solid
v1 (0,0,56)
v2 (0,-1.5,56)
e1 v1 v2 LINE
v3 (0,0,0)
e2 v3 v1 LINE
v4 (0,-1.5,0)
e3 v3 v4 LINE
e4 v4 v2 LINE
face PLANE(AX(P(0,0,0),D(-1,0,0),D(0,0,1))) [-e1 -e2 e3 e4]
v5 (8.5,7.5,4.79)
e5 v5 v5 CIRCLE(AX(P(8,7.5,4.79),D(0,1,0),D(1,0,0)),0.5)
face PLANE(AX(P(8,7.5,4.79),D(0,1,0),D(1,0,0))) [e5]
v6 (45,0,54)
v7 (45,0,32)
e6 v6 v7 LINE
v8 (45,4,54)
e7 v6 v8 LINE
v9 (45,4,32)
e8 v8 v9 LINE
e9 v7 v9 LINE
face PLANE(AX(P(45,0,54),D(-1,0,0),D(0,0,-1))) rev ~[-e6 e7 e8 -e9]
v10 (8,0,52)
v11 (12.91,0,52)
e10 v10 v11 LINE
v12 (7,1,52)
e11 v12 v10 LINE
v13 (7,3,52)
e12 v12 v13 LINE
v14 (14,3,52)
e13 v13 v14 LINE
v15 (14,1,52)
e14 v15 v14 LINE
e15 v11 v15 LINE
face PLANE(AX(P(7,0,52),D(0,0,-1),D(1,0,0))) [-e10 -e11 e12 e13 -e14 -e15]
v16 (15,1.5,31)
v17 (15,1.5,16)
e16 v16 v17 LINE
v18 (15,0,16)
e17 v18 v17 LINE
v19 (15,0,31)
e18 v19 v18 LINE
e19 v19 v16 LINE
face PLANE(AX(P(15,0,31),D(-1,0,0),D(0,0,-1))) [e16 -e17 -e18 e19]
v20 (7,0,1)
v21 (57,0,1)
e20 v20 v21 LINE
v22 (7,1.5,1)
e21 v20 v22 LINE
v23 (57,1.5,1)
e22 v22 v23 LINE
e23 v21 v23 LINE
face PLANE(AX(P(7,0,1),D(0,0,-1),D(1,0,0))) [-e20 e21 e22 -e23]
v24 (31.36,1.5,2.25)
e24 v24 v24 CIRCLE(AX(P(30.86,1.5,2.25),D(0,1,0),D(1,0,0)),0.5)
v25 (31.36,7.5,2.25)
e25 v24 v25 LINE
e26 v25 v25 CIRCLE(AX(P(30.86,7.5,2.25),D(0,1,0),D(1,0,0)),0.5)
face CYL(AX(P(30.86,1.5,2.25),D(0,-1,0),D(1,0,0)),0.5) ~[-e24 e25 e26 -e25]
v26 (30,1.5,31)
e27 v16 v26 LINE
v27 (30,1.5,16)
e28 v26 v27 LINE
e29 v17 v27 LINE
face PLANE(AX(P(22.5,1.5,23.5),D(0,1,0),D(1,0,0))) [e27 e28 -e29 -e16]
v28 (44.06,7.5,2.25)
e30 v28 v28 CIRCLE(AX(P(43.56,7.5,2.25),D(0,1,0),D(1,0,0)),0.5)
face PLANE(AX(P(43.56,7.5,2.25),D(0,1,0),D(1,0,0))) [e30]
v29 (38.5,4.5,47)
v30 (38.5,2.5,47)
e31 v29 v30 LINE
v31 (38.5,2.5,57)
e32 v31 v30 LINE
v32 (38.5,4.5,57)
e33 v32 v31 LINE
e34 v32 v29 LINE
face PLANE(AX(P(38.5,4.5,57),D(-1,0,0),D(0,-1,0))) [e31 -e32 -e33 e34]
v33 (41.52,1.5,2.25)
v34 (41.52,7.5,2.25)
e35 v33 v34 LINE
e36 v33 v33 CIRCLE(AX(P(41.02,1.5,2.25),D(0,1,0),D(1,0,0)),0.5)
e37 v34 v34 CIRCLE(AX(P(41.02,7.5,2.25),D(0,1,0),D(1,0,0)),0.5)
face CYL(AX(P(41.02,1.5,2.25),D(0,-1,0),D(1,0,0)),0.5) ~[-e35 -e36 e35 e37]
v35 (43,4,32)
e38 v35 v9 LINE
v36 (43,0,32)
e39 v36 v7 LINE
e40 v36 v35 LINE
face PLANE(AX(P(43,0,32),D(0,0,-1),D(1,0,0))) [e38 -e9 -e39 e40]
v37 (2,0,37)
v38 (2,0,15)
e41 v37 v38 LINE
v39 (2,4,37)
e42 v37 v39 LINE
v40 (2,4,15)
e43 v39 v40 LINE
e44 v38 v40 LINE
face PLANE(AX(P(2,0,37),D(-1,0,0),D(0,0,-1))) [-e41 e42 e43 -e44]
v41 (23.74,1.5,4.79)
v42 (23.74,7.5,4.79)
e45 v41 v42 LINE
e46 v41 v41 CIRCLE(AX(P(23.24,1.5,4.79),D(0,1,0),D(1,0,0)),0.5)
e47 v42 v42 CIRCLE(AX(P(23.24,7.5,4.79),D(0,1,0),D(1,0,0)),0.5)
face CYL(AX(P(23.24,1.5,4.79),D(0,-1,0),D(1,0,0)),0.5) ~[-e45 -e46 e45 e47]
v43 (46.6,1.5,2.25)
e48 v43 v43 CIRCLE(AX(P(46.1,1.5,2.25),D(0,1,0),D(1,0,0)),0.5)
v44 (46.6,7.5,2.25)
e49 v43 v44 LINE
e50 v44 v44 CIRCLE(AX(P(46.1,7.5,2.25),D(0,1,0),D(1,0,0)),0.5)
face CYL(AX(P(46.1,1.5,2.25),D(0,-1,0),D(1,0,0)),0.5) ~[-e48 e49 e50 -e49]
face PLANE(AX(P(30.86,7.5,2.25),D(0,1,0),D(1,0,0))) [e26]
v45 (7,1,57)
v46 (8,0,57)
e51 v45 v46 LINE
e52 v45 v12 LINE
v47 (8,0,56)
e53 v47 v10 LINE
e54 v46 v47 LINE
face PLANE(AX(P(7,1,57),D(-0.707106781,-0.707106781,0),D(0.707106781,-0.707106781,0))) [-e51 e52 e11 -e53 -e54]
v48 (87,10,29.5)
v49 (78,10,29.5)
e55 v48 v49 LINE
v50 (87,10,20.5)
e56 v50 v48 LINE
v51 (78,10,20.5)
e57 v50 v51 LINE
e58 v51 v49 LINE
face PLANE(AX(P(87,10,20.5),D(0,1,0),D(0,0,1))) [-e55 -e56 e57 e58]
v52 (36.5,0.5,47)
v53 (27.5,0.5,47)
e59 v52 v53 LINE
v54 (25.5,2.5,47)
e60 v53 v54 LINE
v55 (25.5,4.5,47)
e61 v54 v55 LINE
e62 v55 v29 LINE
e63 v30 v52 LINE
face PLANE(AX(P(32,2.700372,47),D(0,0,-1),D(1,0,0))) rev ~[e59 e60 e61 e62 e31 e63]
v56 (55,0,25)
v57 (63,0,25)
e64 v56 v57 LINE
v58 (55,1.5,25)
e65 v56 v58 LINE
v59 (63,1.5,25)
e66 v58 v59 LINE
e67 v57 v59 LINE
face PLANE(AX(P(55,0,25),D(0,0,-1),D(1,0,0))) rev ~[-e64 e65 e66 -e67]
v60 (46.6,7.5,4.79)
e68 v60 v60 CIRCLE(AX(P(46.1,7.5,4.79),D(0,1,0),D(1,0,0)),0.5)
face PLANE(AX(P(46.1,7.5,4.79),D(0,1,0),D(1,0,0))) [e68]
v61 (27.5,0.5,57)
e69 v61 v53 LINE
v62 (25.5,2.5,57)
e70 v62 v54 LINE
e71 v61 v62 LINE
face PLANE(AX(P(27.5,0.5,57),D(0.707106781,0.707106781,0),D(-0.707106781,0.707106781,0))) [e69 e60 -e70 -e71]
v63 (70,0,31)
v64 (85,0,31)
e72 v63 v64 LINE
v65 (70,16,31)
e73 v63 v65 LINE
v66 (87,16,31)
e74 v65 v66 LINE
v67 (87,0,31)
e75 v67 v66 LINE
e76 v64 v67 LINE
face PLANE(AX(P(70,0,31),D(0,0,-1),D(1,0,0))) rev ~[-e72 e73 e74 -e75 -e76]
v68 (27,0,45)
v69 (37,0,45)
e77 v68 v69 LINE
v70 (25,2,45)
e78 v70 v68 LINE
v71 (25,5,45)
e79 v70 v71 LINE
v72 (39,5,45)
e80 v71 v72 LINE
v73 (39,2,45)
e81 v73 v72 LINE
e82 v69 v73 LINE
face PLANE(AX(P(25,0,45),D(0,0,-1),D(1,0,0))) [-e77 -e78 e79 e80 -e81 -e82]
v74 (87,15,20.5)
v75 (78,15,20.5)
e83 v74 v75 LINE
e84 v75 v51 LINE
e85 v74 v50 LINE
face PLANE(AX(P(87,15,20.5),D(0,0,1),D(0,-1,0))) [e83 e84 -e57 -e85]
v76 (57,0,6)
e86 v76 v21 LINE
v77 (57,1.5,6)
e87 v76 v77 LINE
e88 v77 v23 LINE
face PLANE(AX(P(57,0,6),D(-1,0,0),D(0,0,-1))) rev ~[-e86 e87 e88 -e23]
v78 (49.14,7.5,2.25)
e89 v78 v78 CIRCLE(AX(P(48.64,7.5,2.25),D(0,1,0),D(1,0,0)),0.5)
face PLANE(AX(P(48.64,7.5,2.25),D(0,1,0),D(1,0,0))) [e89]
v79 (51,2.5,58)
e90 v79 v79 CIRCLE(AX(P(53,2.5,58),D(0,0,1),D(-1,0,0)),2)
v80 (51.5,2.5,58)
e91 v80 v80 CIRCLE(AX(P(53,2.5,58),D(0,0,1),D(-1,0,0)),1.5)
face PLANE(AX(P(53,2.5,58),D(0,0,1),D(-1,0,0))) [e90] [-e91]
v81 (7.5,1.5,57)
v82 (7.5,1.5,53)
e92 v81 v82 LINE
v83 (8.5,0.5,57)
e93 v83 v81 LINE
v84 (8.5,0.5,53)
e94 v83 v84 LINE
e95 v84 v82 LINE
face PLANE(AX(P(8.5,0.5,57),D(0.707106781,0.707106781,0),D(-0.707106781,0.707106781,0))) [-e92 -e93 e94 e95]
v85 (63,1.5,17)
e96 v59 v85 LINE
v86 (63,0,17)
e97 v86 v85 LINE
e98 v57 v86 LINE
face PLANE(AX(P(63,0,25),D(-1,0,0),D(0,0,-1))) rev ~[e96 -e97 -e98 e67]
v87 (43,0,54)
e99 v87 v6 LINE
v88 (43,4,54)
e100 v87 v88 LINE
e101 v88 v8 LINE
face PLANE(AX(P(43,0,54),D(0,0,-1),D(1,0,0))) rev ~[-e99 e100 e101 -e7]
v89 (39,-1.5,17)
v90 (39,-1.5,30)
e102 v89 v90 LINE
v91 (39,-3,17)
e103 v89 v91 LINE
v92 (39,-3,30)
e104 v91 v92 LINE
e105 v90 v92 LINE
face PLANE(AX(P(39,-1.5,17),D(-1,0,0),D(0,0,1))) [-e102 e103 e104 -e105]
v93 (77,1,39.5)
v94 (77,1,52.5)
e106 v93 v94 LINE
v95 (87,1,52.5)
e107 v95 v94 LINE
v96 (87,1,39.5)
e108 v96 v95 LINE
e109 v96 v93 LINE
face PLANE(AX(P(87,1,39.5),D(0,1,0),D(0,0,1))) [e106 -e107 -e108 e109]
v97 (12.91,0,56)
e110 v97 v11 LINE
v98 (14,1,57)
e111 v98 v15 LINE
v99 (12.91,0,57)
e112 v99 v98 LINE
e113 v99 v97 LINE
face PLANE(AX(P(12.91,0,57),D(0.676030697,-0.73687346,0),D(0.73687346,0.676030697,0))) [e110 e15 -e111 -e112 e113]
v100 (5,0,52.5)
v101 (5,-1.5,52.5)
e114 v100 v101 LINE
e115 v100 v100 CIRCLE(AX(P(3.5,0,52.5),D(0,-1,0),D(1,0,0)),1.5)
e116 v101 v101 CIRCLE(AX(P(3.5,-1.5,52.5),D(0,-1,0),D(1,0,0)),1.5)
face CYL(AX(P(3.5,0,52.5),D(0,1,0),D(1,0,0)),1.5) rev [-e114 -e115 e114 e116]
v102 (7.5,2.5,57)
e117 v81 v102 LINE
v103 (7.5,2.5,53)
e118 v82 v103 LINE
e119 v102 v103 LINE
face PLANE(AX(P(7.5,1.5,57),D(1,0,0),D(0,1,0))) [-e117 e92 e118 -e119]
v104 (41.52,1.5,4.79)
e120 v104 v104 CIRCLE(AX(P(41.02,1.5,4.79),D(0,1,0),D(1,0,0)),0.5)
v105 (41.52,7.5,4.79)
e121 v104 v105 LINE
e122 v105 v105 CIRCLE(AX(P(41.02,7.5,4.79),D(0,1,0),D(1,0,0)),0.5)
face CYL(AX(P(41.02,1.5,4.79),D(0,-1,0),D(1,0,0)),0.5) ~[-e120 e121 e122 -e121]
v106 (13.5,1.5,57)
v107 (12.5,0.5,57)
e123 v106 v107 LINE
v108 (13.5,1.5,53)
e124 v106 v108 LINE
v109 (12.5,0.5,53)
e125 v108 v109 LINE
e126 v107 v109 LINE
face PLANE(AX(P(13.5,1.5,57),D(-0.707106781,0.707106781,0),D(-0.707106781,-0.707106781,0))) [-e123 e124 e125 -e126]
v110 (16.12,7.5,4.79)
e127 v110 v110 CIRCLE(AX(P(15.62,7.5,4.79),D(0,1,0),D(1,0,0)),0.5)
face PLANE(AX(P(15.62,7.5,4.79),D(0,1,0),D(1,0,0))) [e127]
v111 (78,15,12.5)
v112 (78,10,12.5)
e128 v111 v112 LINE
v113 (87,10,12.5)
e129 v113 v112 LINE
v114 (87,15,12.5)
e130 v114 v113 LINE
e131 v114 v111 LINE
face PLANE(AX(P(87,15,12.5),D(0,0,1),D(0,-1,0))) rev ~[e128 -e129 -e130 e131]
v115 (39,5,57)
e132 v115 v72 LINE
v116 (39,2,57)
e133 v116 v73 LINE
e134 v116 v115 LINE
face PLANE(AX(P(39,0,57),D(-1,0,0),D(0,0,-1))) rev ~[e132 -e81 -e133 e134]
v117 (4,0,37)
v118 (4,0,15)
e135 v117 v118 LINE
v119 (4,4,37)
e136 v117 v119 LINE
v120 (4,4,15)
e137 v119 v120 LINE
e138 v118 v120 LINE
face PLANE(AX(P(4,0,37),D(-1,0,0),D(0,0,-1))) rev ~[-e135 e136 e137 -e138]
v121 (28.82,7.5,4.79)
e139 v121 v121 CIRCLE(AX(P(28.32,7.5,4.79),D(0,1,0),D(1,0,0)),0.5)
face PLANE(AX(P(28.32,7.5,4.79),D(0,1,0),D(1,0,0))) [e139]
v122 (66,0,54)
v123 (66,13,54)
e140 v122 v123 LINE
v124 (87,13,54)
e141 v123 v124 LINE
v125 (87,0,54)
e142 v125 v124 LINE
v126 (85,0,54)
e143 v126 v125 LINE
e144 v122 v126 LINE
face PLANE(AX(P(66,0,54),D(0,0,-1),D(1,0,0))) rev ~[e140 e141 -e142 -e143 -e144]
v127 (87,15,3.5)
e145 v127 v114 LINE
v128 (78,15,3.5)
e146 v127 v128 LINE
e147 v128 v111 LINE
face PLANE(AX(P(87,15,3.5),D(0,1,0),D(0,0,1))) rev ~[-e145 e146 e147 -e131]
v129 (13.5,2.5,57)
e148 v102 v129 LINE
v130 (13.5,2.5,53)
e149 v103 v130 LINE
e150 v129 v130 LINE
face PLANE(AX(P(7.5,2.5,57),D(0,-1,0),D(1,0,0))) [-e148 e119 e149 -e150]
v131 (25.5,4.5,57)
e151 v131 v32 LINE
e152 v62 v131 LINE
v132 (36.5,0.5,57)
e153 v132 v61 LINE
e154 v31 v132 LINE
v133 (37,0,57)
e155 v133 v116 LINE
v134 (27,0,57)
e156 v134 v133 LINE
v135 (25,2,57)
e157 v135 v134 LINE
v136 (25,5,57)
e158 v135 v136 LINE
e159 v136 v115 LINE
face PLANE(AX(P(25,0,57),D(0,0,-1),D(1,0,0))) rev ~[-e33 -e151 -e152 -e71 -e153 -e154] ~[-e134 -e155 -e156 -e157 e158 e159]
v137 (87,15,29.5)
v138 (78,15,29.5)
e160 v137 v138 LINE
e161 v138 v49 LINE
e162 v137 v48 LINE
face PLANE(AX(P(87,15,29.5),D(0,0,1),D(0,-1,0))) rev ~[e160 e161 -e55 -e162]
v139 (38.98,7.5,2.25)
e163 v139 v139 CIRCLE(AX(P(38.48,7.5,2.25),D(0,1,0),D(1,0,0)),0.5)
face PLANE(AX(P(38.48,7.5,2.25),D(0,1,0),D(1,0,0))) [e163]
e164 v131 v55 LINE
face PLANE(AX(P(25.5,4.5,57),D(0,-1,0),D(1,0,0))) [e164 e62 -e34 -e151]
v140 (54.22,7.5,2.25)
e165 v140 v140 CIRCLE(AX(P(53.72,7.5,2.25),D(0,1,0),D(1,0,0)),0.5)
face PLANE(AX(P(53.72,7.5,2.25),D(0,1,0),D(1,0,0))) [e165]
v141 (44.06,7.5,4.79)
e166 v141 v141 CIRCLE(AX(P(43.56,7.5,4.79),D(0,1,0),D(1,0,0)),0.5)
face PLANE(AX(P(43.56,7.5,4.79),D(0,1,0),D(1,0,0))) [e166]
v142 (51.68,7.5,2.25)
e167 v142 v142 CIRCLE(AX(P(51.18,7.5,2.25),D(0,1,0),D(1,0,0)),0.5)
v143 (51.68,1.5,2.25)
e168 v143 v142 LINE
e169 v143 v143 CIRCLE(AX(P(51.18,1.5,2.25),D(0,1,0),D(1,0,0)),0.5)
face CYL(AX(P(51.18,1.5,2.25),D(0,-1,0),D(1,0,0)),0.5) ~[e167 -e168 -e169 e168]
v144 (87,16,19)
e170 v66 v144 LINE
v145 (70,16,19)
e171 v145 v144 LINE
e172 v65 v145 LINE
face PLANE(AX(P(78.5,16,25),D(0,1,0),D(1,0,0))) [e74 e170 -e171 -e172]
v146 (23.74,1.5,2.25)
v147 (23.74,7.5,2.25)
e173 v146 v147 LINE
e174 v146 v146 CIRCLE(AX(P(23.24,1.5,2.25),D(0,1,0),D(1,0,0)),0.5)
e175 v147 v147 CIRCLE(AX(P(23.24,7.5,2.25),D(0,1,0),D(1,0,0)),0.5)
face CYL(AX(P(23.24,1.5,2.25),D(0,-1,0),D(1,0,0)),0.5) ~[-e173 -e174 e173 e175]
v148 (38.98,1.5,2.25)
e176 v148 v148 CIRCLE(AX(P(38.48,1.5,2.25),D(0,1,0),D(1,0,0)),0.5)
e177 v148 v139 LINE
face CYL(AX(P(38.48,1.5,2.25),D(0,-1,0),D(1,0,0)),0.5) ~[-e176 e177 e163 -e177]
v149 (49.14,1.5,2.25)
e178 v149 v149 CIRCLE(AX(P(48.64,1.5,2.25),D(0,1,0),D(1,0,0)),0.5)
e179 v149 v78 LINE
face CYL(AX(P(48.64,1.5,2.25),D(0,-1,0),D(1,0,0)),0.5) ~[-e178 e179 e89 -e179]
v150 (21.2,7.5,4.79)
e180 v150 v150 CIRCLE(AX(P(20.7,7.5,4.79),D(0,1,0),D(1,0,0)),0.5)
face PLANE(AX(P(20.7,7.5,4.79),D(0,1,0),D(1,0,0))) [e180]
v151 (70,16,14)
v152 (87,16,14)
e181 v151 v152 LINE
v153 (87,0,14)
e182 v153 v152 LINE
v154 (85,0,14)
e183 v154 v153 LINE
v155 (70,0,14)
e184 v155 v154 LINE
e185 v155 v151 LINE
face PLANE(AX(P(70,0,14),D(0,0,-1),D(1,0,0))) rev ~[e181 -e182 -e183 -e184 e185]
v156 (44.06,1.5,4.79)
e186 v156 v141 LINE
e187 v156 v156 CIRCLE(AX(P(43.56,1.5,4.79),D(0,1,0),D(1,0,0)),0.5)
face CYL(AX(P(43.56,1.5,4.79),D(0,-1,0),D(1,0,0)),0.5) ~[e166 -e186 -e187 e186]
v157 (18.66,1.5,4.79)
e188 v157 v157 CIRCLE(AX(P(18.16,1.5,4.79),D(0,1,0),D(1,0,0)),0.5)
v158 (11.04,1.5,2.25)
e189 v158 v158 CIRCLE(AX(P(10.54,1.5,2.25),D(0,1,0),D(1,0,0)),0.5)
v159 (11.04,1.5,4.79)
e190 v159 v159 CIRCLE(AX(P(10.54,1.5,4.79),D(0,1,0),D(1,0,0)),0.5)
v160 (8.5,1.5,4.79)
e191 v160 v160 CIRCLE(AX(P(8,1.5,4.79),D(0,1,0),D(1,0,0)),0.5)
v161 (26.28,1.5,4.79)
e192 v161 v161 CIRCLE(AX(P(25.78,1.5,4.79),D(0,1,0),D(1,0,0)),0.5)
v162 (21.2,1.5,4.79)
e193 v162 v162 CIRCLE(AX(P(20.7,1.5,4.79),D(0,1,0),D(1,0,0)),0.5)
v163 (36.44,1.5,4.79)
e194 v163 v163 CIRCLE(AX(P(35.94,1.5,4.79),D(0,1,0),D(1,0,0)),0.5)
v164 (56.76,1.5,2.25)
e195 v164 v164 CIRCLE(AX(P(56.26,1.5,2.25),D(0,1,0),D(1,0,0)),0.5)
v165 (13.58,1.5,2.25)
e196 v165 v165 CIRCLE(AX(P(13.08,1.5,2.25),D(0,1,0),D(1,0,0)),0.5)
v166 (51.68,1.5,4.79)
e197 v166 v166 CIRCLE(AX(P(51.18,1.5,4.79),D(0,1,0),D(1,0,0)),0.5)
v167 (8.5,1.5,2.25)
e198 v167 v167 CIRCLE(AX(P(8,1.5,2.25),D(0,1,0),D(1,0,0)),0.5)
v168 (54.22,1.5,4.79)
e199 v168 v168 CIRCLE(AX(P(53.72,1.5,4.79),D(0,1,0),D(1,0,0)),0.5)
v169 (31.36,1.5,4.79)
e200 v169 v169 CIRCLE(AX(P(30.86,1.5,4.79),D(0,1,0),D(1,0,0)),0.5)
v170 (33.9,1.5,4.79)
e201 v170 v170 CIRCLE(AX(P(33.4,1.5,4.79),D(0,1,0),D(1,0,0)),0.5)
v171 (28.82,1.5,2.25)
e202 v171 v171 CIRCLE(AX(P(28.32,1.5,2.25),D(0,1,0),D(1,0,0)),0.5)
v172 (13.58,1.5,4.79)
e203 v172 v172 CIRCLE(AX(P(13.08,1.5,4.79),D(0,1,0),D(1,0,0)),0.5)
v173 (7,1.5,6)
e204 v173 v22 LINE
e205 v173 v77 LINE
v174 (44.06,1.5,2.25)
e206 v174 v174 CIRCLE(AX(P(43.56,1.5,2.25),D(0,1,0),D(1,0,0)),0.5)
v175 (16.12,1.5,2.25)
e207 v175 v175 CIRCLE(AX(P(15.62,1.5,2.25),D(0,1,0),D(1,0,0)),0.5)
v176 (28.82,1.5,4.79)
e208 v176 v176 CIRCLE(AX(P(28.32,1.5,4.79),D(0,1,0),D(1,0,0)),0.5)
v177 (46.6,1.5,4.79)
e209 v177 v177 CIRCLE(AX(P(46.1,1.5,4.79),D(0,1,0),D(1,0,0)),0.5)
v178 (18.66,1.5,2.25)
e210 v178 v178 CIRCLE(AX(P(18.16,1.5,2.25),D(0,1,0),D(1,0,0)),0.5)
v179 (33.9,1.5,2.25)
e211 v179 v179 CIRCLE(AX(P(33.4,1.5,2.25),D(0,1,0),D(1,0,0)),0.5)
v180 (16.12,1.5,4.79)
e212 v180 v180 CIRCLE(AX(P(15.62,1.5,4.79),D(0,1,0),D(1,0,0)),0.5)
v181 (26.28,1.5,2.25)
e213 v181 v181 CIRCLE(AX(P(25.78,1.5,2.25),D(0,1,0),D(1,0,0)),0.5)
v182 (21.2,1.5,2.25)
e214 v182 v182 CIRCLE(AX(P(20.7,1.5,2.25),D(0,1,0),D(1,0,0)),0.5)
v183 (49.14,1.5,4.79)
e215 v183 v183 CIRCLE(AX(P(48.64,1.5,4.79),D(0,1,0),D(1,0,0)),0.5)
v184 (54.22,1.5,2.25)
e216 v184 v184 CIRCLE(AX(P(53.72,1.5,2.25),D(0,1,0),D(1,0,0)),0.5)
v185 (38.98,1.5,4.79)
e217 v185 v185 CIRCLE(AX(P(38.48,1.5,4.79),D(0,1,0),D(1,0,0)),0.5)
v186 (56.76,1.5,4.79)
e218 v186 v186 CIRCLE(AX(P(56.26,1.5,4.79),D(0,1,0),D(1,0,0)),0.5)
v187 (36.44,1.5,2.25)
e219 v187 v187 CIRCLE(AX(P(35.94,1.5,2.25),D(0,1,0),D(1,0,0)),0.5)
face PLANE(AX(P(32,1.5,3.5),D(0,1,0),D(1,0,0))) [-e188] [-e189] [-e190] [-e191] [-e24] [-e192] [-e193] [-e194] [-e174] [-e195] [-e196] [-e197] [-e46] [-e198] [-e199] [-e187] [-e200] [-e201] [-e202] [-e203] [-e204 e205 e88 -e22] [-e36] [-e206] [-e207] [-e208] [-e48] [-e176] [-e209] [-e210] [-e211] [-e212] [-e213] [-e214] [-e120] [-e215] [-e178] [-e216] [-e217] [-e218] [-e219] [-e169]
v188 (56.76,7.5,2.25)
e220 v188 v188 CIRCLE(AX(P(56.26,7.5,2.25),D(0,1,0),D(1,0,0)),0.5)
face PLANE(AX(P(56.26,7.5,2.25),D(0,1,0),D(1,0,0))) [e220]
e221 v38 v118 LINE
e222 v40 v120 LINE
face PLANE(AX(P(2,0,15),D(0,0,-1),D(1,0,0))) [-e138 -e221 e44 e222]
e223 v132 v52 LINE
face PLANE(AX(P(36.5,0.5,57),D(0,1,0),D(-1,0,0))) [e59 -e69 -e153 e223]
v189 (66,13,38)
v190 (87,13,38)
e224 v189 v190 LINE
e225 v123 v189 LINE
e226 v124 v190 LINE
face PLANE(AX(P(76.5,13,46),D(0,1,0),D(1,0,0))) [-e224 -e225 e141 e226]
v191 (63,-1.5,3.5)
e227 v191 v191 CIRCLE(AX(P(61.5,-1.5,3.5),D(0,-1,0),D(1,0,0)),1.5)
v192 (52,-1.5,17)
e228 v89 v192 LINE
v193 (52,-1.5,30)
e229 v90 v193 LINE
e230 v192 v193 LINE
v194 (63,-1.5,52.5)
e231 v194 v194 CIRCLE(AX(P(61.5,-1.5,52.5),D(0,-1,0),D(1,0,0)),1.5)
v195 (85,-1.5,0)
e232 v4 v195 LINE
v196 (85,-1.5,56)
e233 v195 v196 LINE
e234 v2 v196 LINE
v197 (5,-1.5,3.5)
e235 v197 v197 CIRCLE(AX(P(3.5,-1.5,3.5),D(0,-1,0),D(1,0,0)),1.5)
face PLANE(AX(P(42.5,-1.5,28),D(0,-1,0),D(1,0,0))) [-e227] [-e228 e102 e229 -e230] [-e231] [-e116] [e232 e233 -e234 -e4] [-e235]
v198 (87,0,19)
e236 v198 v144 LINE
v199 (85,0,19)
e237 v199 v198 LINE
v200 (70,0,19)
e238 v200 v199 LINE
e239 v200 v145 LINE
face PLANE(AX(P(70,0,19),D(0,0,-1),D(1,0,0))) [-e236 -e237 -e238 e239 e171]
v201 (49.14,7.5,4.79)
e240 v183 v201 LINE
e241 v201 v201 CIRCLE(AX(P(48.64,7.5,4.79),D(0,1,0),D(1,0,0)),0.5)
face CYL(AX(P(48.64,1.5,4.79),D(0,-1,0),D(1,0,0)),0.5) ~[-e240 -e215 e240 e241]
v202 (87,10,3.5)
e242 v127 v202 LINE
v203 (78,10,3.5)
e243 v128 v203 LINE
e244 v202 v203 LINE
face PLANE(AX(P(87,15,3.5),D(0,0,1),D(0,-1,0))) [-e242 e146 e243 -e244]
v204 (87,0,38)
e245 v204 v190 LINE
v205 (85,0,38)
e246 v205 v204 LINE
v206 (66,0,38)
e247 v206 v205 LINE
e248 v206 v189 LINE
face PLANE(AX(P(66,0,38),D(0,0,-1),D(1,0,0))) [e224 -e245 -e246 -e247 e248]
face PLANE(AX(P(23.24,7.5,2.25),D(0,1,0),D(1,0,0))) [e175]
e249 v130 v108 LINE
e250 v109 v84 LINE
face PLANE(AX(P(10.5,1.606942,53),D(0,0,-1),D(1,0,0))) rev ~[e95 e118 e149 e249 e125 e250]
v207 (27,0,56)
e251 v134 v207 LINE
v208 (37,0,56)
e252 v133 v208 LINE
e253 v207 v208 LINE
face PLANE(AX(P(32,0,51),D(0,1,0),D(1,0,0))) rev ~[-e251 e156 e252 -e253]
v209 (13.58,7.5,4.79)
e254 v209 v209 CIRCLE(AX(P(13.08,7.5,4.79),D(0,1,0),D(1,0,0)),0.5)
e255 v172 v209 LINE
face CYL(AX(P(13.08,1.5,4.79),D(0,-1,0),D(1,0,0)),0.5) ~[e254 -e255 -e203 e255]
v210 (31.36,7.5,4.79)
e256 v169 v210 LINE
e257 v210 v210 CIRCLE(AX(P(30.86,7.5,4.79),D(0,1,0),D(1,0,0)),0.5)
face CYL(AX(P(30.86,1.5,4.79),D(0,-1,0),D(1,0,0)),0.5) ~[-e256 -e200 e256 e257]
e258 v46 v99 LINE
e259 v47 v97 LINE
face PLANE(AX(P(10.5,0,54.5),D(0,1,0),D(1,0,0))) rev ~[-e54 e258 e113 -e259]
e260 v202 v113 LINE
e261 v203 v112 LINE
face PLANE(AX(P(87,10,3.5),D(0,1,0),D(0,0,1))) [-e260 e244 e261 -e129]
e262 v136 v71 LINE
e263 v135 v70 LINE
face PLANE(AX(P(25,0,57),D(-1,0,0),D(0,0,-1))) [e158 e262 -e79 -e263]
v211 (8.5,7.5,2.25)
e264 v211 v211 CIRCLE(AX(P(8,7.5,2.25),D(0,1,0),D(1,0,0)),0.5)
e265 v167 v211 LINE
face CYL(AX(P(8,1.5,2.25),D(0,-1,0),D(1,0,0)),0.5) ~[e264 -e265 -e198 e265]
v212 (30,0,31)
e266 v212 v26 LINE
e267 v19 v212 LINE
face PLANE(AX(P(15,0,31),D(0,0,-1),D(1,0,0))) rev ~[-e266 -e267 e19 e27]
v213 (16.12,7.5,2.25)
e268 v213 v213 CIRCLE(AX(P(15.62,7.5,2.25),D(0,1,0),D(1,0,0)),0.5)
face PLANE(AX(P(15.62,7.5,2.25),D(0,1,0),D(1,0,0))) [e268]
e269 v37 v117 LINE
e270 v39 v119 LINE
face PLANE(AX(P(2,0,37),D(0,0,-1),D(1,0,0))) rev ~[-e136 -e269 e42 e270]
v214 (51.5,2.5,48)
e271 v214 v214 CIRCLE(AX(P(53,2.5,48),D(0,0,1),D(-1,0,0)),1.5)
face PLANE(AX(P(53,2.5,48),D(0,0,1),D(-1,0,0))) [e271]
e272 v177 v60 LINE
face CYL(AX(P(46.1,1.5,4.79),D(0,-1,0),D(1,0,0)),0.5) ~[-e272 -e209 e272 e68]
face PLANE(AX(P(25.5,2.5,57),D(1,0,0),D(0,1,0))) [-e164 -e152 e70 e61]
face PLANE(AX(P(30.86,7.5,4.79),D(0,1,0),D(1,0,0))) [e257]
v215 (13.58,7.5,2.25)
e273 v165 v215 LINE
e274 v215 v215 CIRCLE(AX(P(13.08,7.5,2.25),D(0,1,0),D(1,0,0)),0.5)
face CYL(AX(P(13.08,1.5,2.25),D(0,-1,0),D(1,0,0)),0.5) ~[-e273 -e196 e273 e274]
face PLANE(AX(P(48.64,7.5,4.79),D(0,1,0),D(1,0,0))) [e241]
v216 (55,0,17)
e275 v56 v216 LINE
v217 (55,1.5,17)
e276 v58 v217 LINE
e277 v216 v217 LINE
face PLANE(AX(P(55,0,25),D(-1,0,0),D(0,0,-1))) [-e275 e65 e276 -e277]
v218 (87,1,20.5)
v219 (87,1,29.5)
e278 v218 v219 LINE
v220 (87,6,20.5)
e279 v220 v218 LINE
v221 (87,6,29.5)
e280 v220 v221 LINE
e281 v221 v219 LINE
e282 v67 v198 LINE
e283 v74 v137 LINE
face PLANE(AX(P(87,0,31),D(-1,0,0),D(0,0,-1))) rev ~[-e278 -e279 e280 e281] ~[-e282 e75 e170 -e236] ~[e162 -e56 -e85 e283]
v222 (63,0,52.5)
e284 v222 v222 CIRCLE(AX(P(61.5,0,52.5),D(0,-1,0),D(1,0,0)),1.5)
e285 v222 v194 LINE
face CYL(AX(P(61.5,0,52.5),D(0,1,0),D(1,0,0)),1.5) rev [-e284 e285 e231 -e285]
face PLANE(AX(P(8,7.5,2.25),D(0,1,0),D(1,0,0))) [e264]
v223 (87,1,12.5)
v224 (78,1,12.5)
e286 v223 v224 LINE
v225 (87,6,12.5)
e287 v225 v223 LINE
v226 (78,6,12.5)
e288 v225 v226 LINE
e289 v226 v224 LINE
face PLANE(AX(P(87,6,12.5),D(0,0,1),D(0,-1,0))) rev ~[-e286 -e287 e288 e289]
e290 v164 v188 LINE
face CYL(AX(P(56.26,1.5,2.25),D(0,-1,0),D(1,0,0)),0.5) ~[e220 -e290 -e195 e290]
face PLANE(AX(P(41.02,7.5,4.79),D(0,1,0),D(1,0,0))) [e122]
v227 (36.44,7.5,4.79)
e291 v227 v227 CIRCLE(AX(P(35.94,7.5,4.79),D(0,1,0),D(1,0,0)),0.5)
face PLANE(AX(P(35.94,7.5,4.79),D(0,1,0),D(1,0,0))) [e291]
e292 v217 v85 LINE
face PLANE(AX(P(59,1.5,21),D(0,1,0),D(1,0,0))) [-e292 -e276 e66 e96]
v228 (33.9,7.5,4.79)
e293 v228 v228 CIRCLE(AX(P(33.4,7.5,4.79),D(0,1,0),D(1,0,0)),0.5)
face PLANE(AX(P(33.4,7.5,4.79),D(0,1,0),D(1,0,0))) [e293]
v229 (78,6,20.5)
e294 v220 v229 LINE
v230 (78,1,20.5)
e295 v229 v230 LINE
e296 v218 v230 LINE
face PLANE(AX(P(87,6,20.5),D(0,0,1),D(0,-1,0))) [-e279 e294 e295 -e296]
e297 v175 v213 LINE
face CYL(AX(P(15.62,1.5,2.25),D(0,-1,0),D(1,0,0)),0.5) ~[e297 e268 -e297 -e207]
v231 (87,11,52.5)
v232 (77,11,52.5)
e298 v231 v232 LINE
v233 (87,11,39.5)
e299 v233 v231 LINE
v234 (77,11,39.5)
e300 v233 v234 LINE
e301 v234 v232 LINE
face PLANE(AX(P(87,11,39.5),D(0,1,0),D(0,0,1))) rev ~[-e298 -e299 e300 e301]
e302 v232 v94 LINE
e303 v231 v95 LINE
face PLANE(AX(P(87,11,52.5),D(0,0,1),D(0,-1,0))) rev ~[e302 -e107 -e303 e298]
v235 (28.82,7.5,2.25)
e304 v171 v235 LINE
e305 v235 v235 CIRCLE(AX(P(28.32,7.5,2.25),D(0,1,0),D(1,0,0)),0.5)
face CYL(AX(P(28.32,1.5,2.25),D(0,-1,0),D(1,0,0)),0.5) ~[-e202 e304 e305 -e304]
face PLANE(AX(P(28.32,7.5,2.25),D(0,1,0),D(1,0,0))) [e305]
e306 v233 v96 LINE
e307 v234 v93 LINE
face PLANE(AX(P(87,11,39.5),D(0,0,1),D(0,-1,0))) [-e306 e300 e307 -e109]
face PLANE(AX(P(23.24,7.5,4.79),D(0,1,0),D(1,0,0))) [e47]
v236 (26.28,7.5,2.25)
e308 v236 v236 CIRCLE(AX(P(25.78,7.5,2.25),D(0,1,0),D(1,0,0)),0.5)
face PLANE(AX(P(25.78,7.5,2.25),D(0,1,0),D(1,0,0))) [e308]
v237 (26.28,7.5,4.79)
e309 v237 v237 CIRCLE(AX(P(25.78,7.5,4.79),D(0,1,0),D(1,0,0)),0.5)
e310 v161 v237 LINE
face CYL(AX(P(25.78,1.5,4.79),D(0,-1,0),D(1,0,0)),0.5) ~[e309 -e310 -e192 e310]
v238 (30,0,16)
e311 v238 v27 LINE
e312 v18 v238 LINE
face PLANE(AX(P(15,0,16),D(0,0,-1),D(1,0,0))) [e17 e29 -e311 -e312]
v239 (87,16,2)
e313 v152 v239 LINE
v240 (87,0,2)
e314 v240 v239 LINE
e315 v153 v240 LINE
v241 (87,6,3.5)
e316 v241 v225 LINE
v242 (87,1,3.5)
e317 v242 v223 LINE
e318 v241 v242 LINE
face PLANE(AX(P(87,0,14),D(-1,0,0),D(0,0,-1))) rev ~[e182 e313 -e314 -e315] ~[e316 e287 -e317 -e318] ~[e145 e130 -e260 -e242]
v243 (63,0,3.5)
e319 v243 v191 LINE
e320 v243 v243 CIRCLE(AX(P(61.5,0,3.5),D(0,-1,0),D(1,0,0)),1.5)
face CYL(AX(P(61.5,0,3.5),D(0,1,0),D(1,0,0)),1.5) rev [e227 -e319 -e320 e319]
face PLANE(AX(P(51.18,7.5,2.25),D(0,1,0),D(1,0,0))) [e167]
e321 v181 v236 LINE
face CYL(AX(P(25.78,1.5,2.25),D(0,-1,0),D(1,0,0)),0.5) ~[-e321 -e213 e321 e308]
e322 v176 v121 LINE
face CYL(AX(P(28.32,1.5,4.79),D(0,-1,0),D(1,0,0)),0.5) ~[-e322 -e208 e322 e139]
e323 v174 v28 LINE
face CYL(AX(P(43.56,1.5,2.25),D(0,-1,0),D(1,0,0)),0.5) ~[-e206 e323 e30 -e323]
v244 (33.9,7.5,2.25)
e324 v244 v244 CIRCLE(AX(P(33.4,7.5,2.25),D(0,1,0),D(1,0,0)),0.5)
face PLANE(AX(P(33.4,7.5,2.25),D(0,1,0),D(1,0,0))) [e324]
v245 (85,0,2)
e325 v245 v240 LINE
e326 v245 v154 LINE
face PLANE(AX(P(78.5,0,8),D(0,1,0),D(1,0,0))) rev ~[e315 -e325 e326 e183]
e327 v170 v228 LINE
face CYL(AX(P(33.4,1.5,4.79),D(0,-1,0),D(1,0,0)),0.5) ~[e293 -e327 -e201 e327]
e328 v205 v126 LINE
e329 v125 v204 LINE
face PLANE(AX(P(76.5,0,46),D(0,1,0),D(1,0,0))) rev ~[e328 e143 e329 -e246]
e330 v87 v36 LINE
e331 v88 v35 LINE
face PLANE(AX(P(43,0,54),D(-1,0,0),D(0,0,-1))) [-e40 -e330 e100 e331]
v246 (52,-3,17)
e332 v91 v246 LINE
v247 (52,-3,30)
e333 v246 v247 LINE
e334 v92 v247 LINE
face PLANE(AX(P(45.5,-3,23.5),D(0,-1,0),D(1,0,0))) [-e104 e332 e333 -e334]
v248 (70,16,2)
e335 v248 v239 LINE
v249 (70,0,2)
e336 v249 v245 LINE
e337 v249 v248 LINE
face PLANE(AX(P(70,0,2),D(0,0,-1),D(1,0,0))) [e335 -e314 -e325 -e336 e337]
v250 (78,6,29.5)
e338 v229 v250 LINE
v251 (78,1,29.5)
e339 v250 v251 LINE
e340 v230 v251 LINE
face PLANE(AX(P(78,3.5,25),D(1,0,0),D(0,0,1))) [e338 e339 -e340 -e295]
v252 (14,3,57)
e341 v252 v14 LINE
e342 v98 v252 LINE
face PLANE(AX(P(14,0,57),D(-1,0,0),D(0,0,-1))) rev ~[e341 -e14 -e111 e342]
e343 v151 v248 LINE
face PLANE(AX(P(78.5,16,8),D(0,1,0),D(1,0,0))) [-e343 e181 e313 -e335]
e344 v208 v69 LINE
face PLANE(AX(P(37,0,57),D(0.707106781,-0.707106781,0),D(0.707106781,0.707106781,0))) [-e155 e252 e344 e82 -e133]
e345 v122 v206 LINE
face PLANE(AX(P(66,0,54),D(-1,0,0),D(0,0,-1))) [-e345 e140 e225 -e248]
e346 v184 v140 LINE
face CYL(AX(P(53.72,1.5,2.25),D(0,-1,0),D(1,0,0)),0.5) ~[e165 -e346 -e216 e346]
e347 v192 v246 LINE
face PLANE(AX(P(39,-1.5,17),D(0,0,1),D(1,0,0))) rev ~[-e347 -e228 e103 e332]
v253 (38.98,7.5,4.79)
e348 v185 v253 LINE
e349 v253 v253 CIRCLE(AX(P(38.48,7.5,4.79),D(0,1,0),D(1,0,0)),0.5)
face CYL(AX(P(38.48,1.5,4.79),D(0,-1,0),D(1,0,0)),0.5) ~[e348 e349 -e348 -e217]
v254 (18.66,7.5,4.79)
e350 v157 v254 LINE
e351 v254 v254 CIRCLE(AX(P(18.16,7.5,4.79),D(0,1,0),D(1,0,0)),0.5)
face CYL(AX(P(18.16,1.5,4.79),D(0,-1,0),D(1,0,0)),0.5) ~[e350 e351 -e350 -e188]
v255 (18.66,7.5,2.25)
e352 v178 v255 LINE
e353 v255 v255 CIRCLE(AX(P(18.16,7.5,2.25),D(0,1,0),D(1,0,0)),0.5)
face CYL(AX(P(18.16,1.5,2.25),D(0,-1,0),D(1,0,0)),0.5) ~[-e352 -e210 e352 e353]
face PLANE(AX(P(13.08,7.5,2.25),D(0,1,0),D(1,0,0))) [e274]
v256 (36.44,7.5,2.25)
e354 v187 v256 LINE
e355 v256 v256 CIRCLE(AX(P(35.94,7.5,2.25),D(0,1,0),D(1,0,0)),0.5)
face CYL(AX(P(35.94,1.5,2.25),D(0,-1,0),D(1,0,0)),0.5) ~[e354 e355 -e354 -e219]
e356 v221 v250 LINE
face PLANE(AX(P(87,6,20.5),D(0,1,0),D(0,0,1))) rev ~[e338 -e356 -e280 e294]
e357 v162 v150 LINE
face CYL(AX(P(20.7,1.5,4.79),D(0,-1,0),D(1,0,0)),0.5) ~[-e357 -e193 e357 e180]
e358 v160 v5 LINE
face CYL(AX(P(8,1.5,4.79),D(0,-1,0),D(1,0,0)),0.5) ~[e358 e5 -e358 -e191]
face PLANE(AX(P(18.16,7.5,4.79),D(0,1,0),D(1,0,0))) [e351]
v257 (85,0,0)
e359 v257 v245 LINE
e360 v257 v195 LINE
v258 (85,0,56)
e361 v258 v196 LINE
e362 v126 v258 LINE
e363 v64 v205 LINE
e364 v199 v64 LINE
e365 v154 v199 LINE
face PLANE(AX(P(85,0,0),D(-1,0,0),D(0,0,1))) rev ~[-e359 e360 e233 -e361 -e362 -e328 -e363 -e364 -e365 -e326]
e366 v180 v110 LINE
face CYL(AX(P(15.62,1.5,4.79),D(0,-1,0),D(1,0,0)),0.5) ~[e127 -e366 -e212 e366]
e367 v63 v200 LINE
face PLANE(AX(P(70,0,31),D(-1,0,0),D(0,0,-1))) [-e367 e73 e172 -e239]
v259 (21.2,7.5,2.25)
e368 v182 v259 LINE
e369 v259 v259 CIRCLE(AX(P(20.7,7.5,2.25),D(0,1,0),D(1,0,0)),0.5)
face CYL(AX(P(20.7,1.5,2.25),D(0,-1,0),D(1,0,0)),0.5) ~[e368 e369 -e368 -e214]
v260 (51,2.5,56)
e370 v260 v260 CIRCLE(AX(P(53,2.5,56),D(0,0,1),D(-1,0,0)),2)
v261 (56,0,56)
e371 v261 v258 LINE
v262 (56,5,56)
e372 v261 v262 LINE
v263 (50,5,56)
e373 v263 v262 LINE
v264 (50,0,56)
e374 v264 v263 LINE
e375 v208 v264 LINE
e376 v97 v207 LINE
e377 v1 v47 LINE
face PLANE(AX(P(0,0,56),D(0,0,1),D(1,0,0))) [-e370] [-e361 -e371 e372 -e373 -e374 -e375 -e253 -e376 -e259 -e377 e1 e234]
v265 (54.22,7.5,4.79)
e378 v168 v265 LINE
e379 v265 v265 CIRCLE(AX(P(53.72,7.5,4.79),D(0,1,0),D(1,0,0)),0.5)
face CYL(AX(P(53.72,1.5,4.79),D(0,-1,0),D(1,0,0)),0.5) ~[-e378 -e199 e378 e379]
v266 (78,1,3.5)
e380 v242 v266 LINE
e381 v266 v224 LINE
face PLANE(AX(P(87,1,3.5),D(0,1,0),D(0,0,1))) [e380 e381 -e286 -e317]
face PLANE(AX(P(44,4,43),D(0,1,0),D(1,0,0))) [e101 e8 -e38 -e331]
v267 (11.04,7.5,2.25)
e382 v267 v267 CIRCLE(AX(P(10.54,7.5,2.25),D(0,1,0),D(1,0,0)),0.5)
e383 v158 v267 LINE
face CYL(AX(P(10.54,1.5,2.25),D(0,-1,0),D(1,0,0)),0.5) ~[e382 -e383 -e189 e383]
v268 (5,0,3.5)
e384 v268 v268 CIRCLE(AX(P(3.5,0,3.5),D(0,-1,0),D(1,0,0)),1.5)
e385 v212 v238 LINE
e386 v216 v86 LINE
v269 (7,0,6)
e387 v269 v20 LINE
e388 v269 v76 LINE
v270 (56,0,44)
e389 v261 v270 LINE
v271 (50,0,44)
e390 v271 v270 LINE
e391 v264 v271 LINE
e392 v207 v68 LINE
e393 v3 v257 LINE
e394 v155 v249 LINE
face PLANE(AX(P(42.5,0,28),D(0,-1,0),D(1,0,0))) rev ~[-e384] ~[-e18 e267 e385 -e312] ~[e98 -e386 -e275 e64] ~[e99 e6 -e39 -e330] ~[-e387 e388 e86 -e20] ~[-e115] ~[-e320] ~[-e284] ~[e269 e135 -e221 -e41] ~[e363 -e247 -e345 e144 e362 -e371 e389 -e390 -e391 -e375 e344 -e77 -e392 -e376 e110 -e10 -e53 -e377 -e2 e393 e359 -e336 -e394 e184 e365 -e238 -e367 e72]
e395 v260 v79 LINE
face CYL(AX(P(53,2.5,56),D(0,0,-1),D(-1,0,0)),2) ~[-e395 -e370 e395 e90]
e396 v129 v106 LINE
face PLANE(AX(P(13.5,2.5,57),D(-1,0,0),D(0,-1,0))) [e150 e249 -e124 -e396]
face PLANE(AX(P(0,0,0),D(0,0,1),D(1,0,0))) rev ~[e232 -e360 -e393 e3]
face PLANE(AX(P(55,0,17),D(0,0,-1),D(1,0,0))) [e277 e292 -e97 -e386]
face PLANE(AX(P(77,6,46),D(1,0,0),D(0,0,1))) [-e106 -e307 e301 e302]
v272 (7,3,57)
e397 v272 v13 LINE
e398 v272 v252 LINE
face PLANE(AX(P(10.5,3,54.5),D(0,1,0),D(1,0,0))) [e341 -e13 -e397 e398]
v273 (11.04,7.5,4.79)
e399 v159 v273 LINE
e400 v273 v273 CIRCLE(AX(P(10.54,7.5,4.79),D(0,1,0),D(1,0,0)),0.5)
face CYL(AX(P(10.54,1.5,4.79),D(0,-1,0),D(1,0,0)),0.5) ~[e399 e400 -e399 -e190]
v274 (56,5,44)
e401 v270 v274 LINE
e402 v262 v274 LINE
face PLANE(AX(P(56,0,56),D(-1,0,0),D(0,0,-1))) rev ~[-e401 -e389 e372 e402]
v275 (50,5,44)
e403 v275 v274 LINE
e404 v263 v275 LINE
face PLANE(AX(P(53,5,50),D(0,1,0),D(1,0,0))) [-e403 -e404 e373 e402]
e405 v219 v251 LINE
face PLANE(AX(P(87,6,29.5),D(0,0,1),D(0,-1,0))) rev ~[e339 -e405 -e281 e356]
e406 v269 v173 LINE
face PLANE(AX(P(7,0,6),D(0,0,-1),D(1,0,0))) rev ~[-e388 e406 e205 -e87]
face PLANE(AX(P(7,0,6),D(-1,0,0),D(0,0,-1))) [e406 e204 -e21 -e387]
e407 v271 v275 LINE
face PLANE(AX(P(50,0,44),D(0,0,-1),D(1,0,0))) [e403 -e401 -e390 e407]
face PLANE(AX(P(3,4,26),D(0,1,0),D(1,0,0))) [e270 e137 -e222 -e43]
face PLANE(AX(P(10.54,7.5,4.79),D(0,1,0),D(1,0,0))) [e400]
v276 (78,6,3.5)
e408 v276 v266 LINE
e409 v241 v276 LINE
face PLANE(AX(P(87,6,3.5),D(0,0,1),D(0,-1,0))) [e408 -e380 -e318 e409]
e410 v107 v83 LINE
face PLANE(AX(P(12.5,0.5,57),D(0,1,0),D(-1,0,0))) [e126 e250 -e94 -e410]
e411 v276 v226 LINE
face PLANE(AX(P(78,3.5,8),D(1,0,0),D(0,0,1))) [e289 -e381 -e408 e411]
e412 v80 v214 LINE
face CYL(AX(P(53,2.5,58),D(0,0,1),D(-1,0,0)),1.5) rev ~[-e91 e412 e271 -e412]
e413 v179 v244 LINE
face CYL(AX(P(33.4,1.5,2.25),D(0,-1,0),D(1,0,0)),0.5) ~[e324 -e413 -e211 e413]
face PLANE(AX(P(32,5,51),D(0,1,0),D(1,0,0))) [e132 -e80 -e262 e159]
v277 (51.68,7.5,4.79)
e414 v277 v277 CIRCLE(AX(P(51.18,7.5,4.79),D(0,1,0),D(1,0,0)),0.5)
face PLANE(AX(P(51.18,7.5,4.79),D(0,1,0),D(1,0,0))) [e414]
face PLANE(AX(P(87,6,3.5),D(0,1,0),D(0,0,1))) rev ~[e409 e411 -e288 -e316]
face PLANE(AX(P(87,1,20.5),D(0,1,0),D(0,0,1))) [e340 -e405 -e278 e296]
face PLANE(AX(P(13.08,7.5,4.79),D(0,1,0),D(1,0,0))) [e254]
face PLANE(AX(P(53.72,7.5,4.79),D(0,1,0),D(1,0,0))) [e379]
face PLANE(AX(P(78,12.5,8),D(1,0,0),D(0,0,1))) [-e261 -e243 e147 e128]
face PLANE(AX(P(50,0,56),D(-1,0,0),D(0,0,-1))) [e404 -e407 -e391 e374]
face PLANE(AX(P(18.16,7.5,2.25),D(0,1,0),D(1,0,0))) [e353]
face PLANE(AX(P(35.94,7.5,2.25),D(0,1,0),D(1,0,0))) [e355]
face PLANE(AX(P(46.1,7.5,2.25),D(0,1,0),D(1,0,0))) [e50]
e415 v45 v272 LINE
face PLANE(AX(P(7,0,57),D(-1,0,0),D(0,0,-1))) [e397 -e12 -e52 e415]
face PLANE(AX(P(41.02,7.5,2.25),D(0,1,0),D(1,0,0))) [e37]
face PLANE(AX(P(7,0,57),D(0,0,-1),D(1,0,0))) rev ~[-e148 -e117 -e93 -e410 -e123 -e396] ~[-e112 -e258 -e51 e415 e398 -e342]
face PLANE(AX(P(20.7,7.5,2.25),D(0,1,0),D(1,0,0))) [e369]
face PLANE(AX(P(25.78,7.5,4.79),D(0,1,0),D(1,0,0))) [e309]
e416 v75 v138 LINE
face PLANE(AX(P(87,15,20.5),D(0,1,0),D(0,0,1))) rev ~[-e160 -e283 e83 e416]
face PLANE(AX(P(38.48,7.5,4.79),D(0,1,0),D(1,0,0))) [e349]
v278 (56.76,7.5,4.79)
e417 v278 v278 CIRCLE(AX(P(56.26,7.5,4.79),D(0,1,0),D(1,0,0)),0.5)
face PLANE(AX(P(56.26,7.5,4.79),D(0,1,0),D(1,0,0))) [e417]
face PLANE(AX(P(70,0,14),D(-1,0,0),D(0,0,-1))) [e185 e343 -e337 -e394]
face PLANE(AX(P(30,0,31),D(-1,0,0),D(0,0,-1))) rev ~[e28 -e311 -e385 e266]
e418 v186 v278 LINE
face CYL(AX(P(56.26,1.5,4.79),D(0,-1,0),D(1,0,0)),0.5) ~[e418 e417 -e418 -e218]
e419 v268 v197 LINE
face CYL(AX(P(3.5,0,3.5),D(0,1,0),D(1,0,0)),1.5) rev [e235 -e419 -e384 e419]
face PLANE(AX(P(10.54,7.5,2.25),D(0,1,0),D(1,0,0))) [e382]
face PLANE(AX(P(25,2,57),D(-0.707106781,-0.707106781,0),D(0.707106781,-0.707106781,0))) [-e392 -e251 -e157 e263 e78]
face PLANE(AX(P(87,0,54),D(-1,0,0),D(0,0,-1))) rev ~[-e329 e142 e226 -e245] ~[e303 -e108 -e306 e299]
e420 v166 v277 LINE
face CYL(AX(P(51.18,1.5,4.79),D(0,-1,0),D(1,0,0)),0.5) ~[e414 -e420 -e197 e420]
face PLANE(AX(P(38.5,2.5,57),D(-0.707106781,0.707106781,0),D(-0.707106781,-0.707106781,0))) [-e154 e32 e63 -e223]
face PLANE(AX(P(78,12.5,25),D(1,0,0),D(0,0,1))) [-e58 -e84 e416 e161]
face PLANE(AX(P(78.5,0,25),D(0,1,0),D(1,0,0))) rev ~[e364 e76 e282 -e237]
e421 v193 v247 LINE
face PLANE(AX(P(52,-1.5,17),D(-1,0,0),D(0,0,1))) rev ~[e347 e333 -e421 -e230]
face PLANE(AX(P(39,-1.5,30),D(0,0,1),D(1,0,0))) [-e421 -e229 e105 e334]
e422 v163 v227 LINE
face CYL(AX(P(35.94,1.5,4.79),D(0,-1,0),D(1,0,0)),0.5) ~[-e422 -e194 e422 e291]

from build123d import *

# Parameters (mm, degrees)
SKETCH_W        = 85
SKETCH_H        = 56
SKETCH_R        = 1.5
PAD_DEPTH       = 1.5
SKETCH001_W     = 17
SKETCH001_H     = 12
PAD001_DEPTH    = 16
SKETCH002_W     = 9
SKETCH002_H     = 5
POCKET_DEPTH    = 9
SKETCH003_W     = 21
SKETCH003_H     = 16
PAD002_DEPTH    = 13
SKETCH004_W     = 13
SKETCH004_H     = 10
POCKET001_DEPTH = 10
SKETCH005_W     = 14
SKETCH005_H     = 12
PAD003_DEPTH    = 5
POCKET002_DEPTH = 12
POCKET003_DEPTH = 10
SKETCH008_W     = 7
SKETCH008_H     = 5
PAD004_DEPTH    = 3
POCKET004_DEPTH = 5
POCKET005_DEPTH = 4
SKETCH011_W     = 6
SKETCH011_H     = 12
PAD005_DEPTH    = 5
SKETCH012_R     = 2
PAD006_DEPTH    = 2
SKETCH013_R     = 1.5
POCKET006_DEPTH = 10
SKETCH014_W     = 50
SKETCH014_H     = 5
PAD007_DEPTH    = 1.5
SKETCH015_R     = 0.5
PAD008_DEPTH    = 6
SKETCH016_W     = 2
SKETCH016_H     = 22
PAD009_DEPTH    = 4
SKETCH017_W     = 15
SKETCH017_H     = 15
SKETCH017_W_2   = 8
SKETCH017_H_2   = 8
PAD010_DEPTH    = 1.5
SKETCH018_W     = 13
SKETCH018_H     = 13
PAD011_DEPTH    = 1.5


with BuildPart() as part:
    # Sketch → Pad (new body)
    with BuildSketch(Plane.XZ):
        with Locations((42.5, 28)):
            Rectangle(SKETCH_W, SKETCH_H)
        with Locations((3.5, 52.5)):
            Circle(SKETCH_R, mode=Mode.SUBTRACT)
        with Locations((61.5, 52.5)):
            Circle(SKETCH_R, mode=Mode.SUBTRACT)
        with Locations((61.5, 3.5)):
            Circle(SKETCH_R, mode=Mode.SUBTRACT)
        with Locations((3.5, 3.5)):
            Circle(SKETCH_R, mode=Mode.SUBTRACT)
    extrude(amount=PAD_DEPTH)

    # Sketch001 (on Face9 of Pad) → Pad001 (join)
    with BuildSketch(Plane(origin=(0, 0, 0), x_dir=(1, 0, 0), z_dir=(0, 1, 0))):
        with Locations((78.5, -8)):
            Rectangle(SKETCH001_W, SKETCH001_H)
        with Locations((78.5, -25)):
            Rectangle(SKETCH001_W, SKETCH001_H)
    extrude(amount=PAD001_DEPTH)

    # Sketch002 (on Face19 of Pad001) → Pocket (cut)
    with BuildSketch(Plane(origin=(87, 0, 0), x_dir=(0, 0, 1), z_dir=(1, 0, 0))):
        with Locations((8, -3.5)):
            Rectangle(SKETCH002_W, SKETCH002_H)
        with Locations((8, -12.5)):
            Rectangle(SKETCH002_W, SKETCH002_H)
        with Locations((25, -3.5)):
            Rectangle(SKETCH002_W, SKETCH002_H)
        with Locations((25, -12.5)):
            Rectangle(SKETCH002_W, SKETCH002_H)
    extrude(amount=-POCKET_DEPTH, mode=Mode.SUBTRACT)

    # Sketch003 (on Face4 of Pocket) → Pad002 (join)
    with BuildSketch(Plane(origin=(0, 0, 0), x_dir=(1, 0, 0), z_dir=(0, 1, 0))):
        with Locations((76.5, -46)):
            Rectangle(SKETCH003_W, SKETCH003_H)
    extrude(amount=PAD002_DEPTH)

    # Sketch004 (on Face25 of Pad002) → Pocket001 (cut)
    with BuildSketch(Plane(origin=(87, 0, 0), x_dir=(0, 0, 1), z_dir=(1, 0, 0))):
        with Locations((46, -6)):
            Rectangle(SKETCH004_W, SKETCH004_H)
    extrude(amount=-POCKET001_DEPTH, mode=Mode.SUBTRACT)

    # Sketch005 (on Face4 of Pocket001) → Pad003 (join)
    with BuildSketch(Plane(origin=(0, 0, 0), x_dir=(1, 0, 0), z_dir=(0, 1, 0))):
        with Locations((32, -51)):
            Rectangle(SKETCH005_W, SKETCH005_H)
    extrude(amount=PAD003_DEPTH)

    # Sketch006 (on Face33 of Pad003) → Pocket002 (cut)
    with BuildSketch(Plane(origin=(0, 0, 57), x_dir=(-1, 0, 0), z_dir=(0, 0, 1))):
        Polygon((-39, 0), (-37, 0), (-39, -2), align=None)
        Polygon((-27, 0), (-25, 0), (-25, -2), align=None)
    extrude(amount=-POCKET002_DEPTH, mode=Mode.SUBTRACT)

    # Sketch007 (on Face38 of Pocket002) → Pocket003 (cut)
    with BuildSketch(Plane(origin=(0, 0, 57), x_dir=(-1, 0, 0), z_dir=(0, 0, 1))):
        Polygon((-25.5, -2.5), (-25.5, -4.5), (-38.5, -4.5), (-38.5, -2.5), (-36.5, -0.5), (-27.5, -0.5), align=None)
    extrude(amount=-POCKET003_DEPTH, mode=Mode.SUBTRACT)

    # Sketch008 (on Face4 of Pocket003) → Pad004 (join)
    with BuildSketch(Plane(origin=(0, 0, 0), x_dir=(1, 0, 0), z_dir=(0, 1, 0))):
        with Locations((10.5, -54.5)):
            Rectangle(SKETCH008_W, SKETCH008_H)
    extrude(amount=PAD004_DEPTH)

    # Sketch009 (on Face37 of Pad004) → Pocket004 (cut)
    with BuildSketch(Plane(origin=(0, 0, 57), x_dir=(-1, 0, 0), z_dir=(0, 0, 1))):
        Polygon((-14, 0), (-12.91, 0), (-14, -1), align=None)
        Polygon((-8, 0), (-7, 0), (-7, -1), align=None)
    extrude(amount=-POCKET004_DEPTH, mode=Mode.SUBTRACT)

    # Sketch010 (on Face48 of Pocket004) → Pocket005 (cut)
    with BuildSketch(Plane(origin=(0, 0, 57), x_dir=(-1, 0, 0), z_dir=(0, 0, 1))):
        Polygon((-7.5, -1.5), (-7.5, -2.5), (-13.5, -2.5), (-13.5, -1.5), (-12.5, -0.5), (-8.5, -0.5), align=None)
    extrude(amount=-POCKET005_DEPTH, mode=Mode.SUBTRACT)

    # Sketch011 (on Face4 of Pocket005) → Pad005 (join)
    with BuildSketch(Plane(origin=(0, 0, 0), x_dir=(1, 0, 0), z_dir=(0, 1, 0))):
        with Locations((53, -50)):
            Rectangle(SKETCH011_W, SKETCH011_H)
    extrude(amount=PAD005_DEPTH)

    # Sketch012 (on Face32 of Pad005) → Pad006 (join)
    with BuildSketch(Plane(origin=(0, 0, 56), x_dir=(-1, 0, 0), z_dir=(0, 0, 1))):
        with Locations((-53, -2.5)):
            Circle(SKETCH012_R)
    extrude(amount=PAD006_DEPTH)

    # Sketch013 (on Face75 of Pad006) → Pocket006 (cut)
    with BuildSketch(Plane(origin=(0, 0, 58), x_dir=(-1, 0, 0), z_dir=(0, 0, 1))):
        with Locations((-53, -2.5)):
            Circle(SKETCH013_R)
    extrude(amount=-POCKET006_DEPTH, mode=Mode.SUBTRACT)

    # Sketch014 (on Face4 of Pocket006) → Pad007 (join)
    with BuildSketch(Plane(origin=(0, 0, 0), x_dir=(1, 0, 0), z_dir=(0, 1, 0))):
        with Locations((32, -3.5)):
            Rectangle(SKETCH014_W, SKETCH014_H)
    extrude(amount=PAD007_DEPTH)

    # Sketch015 (on Face56 of Pad007) → Pad008 (join)
    with BuildSketch(Plane(origin=(0, 1.5, 0), x_dir=(1, 0, 0), z_dir=(0, 1, 0))):
        with Locations((8, -4.79)):
            Circle(SKETCH015_R)
        with Locations((10.54, -4.79)):
            Circle(SKETCH015_R)
        with Locations((13.08, -4.79)):
            Circle(SKETCH015_R)
        with Locations((15.62, -4.79)):
            Circle(SKETCH015_R)
        with Locations((18.16, -4.79)):
            Circle(SKETCH015_R)
        with Locations((20.7, -4.79)):
            Circle(SKETCH015_R)
        with Locations((23.24, -4.79)):
            Circle(SKETCH015_R)
        with Locations((25.78, -4.79)):
            Circle(SKETCH015_R)
        with Locations((28.32, -4.79)):
            Circle(SKETCH015_R)
        with Locations((30.86, -4.79)):
            Circle(SKETCH015_R)
        with Locations((8, -2.25)):
            Circle(SKETCH015_R)
        with Locations((10.54, -2.25)):
            Circle(SKETCH015_R)
        with Locations((13.08, -2.25)):
            Circle(SKETCH015_R)
        with Locations((15.62, -2.25)):
            Circle(SKETCH015_R)
        with Locations((18.16, -2.25)):
            Circle(SKETCH015_R)
        with Locations((20.7, -2.25)):
            Circle(SKETCH015_R)
        with Locations((23.24, -2.25)):
            Circle(SKETCH015_R)
        with Locations((25.78, -2.25)):
            Circle(SKETCH015_R)
        with Locations((28.32, -2.25)):
            Circle(SKETCH015_R)
        with Locations((30.86, -2.25)):
            Circle(SKETCH015_R)
        with Locations((33.4, -2.25)):
            Circle(SKETCH015_R)
        with Locations((33.4, -4.79)):
            Circle(SKETCH015_R)
        with Locations((35.94, -2.25)):
            Circle(SKETCH015_R)
        with Locations((35.94, -4.79)):
            Circle(SKETCH015_R)
        with Locations((38.48, -2.25)):
            Circle(SKETCH015_R)
        with Locations((38.48, -4.79)):
            Circle(SKETCH015_R)
        with Locations((41.02, -2.25)):
            Circle(SKETCH015_R)
        with Locations((41.02, -4.79)):
            Circle(SKETCH015_R)
        with Locations((43.56, -2.25)):
            Circle(SKETCH015_R)
        with Locations((43.56, -4.79)):
            Circle(SKETCH015_R)
        with Locations((46.1, -2.25)):
            Circle(SKETCH015_R)
        with Locations((48.64, -2.25)):
            Circle(SKETCH015_R)
        with Locations((51.18, -2.25)):
            Circle(SKETCH015_R)
        with Locations((53.72, -2.25)):
            Circle(SKETCH015_R)
        with Locations((56.26, -2.25)):
            Circle(SKETCH015_R)
        with Locations((46.1, -4.79)):
            Circle(SKETCH015_R)
        with Locations((48.64, -4.79)):
            Circle(SKETCH015_R)
        with Locations((51.18, -4.79)):
            Circle(SKETCH015_R)
        with Locations((53.72, -4.79)):
            Circle(SKETCH015_R)
        with Locations((56.26, -4.79)):
            Circle(SKETCH015_R)
    extrude(amount=PAD008_DEPTH)

    # Sketch016 (on Face4 of Pad008) → Pad009 (join)
    with BuildSketch(Plane(origin=(0, 0, 0), x_dir=(1, 0, 0), z_dir=(0, 1, 0))):
        with Locations((3, -26)):
            Rectangle(SKETCH016_W, SKETCH016_H)
        with Locations((44, -43)):
            Rectangle(SKETCH016_W, SKETCH016_H)
    extrude(amount=PAD009_DEPTH)

    # Sketch017 (on Face4 of Pad009) → Pad010 (join)
    with BuildSketch(Plane(origin=(0, 0, 0), x_dir=(1, 0, 0), z_dir=(0, 1, 0))):
        with Locations((22.5, -23.5)):
            Rectangle(SKETCH017_W, SKETCH017_H)
        with Locations((59, -21)):
            Rectangle(SKETCH017_W_2, SKETCH017_H_2)
    extrude(amount=PAD010_DEPTH)

    # Sketch018 (on Face5 of Pad010) → Pad011 (join)
    with BuildSketch(Plane.XZ.offset(1.5)):
        with Locations((45.5, 23.5)):
            Rectangle(SKETCH018_W, SKETCH018_H)
    extrude(amount=PAD011_DEPTH)


solid = part.part
